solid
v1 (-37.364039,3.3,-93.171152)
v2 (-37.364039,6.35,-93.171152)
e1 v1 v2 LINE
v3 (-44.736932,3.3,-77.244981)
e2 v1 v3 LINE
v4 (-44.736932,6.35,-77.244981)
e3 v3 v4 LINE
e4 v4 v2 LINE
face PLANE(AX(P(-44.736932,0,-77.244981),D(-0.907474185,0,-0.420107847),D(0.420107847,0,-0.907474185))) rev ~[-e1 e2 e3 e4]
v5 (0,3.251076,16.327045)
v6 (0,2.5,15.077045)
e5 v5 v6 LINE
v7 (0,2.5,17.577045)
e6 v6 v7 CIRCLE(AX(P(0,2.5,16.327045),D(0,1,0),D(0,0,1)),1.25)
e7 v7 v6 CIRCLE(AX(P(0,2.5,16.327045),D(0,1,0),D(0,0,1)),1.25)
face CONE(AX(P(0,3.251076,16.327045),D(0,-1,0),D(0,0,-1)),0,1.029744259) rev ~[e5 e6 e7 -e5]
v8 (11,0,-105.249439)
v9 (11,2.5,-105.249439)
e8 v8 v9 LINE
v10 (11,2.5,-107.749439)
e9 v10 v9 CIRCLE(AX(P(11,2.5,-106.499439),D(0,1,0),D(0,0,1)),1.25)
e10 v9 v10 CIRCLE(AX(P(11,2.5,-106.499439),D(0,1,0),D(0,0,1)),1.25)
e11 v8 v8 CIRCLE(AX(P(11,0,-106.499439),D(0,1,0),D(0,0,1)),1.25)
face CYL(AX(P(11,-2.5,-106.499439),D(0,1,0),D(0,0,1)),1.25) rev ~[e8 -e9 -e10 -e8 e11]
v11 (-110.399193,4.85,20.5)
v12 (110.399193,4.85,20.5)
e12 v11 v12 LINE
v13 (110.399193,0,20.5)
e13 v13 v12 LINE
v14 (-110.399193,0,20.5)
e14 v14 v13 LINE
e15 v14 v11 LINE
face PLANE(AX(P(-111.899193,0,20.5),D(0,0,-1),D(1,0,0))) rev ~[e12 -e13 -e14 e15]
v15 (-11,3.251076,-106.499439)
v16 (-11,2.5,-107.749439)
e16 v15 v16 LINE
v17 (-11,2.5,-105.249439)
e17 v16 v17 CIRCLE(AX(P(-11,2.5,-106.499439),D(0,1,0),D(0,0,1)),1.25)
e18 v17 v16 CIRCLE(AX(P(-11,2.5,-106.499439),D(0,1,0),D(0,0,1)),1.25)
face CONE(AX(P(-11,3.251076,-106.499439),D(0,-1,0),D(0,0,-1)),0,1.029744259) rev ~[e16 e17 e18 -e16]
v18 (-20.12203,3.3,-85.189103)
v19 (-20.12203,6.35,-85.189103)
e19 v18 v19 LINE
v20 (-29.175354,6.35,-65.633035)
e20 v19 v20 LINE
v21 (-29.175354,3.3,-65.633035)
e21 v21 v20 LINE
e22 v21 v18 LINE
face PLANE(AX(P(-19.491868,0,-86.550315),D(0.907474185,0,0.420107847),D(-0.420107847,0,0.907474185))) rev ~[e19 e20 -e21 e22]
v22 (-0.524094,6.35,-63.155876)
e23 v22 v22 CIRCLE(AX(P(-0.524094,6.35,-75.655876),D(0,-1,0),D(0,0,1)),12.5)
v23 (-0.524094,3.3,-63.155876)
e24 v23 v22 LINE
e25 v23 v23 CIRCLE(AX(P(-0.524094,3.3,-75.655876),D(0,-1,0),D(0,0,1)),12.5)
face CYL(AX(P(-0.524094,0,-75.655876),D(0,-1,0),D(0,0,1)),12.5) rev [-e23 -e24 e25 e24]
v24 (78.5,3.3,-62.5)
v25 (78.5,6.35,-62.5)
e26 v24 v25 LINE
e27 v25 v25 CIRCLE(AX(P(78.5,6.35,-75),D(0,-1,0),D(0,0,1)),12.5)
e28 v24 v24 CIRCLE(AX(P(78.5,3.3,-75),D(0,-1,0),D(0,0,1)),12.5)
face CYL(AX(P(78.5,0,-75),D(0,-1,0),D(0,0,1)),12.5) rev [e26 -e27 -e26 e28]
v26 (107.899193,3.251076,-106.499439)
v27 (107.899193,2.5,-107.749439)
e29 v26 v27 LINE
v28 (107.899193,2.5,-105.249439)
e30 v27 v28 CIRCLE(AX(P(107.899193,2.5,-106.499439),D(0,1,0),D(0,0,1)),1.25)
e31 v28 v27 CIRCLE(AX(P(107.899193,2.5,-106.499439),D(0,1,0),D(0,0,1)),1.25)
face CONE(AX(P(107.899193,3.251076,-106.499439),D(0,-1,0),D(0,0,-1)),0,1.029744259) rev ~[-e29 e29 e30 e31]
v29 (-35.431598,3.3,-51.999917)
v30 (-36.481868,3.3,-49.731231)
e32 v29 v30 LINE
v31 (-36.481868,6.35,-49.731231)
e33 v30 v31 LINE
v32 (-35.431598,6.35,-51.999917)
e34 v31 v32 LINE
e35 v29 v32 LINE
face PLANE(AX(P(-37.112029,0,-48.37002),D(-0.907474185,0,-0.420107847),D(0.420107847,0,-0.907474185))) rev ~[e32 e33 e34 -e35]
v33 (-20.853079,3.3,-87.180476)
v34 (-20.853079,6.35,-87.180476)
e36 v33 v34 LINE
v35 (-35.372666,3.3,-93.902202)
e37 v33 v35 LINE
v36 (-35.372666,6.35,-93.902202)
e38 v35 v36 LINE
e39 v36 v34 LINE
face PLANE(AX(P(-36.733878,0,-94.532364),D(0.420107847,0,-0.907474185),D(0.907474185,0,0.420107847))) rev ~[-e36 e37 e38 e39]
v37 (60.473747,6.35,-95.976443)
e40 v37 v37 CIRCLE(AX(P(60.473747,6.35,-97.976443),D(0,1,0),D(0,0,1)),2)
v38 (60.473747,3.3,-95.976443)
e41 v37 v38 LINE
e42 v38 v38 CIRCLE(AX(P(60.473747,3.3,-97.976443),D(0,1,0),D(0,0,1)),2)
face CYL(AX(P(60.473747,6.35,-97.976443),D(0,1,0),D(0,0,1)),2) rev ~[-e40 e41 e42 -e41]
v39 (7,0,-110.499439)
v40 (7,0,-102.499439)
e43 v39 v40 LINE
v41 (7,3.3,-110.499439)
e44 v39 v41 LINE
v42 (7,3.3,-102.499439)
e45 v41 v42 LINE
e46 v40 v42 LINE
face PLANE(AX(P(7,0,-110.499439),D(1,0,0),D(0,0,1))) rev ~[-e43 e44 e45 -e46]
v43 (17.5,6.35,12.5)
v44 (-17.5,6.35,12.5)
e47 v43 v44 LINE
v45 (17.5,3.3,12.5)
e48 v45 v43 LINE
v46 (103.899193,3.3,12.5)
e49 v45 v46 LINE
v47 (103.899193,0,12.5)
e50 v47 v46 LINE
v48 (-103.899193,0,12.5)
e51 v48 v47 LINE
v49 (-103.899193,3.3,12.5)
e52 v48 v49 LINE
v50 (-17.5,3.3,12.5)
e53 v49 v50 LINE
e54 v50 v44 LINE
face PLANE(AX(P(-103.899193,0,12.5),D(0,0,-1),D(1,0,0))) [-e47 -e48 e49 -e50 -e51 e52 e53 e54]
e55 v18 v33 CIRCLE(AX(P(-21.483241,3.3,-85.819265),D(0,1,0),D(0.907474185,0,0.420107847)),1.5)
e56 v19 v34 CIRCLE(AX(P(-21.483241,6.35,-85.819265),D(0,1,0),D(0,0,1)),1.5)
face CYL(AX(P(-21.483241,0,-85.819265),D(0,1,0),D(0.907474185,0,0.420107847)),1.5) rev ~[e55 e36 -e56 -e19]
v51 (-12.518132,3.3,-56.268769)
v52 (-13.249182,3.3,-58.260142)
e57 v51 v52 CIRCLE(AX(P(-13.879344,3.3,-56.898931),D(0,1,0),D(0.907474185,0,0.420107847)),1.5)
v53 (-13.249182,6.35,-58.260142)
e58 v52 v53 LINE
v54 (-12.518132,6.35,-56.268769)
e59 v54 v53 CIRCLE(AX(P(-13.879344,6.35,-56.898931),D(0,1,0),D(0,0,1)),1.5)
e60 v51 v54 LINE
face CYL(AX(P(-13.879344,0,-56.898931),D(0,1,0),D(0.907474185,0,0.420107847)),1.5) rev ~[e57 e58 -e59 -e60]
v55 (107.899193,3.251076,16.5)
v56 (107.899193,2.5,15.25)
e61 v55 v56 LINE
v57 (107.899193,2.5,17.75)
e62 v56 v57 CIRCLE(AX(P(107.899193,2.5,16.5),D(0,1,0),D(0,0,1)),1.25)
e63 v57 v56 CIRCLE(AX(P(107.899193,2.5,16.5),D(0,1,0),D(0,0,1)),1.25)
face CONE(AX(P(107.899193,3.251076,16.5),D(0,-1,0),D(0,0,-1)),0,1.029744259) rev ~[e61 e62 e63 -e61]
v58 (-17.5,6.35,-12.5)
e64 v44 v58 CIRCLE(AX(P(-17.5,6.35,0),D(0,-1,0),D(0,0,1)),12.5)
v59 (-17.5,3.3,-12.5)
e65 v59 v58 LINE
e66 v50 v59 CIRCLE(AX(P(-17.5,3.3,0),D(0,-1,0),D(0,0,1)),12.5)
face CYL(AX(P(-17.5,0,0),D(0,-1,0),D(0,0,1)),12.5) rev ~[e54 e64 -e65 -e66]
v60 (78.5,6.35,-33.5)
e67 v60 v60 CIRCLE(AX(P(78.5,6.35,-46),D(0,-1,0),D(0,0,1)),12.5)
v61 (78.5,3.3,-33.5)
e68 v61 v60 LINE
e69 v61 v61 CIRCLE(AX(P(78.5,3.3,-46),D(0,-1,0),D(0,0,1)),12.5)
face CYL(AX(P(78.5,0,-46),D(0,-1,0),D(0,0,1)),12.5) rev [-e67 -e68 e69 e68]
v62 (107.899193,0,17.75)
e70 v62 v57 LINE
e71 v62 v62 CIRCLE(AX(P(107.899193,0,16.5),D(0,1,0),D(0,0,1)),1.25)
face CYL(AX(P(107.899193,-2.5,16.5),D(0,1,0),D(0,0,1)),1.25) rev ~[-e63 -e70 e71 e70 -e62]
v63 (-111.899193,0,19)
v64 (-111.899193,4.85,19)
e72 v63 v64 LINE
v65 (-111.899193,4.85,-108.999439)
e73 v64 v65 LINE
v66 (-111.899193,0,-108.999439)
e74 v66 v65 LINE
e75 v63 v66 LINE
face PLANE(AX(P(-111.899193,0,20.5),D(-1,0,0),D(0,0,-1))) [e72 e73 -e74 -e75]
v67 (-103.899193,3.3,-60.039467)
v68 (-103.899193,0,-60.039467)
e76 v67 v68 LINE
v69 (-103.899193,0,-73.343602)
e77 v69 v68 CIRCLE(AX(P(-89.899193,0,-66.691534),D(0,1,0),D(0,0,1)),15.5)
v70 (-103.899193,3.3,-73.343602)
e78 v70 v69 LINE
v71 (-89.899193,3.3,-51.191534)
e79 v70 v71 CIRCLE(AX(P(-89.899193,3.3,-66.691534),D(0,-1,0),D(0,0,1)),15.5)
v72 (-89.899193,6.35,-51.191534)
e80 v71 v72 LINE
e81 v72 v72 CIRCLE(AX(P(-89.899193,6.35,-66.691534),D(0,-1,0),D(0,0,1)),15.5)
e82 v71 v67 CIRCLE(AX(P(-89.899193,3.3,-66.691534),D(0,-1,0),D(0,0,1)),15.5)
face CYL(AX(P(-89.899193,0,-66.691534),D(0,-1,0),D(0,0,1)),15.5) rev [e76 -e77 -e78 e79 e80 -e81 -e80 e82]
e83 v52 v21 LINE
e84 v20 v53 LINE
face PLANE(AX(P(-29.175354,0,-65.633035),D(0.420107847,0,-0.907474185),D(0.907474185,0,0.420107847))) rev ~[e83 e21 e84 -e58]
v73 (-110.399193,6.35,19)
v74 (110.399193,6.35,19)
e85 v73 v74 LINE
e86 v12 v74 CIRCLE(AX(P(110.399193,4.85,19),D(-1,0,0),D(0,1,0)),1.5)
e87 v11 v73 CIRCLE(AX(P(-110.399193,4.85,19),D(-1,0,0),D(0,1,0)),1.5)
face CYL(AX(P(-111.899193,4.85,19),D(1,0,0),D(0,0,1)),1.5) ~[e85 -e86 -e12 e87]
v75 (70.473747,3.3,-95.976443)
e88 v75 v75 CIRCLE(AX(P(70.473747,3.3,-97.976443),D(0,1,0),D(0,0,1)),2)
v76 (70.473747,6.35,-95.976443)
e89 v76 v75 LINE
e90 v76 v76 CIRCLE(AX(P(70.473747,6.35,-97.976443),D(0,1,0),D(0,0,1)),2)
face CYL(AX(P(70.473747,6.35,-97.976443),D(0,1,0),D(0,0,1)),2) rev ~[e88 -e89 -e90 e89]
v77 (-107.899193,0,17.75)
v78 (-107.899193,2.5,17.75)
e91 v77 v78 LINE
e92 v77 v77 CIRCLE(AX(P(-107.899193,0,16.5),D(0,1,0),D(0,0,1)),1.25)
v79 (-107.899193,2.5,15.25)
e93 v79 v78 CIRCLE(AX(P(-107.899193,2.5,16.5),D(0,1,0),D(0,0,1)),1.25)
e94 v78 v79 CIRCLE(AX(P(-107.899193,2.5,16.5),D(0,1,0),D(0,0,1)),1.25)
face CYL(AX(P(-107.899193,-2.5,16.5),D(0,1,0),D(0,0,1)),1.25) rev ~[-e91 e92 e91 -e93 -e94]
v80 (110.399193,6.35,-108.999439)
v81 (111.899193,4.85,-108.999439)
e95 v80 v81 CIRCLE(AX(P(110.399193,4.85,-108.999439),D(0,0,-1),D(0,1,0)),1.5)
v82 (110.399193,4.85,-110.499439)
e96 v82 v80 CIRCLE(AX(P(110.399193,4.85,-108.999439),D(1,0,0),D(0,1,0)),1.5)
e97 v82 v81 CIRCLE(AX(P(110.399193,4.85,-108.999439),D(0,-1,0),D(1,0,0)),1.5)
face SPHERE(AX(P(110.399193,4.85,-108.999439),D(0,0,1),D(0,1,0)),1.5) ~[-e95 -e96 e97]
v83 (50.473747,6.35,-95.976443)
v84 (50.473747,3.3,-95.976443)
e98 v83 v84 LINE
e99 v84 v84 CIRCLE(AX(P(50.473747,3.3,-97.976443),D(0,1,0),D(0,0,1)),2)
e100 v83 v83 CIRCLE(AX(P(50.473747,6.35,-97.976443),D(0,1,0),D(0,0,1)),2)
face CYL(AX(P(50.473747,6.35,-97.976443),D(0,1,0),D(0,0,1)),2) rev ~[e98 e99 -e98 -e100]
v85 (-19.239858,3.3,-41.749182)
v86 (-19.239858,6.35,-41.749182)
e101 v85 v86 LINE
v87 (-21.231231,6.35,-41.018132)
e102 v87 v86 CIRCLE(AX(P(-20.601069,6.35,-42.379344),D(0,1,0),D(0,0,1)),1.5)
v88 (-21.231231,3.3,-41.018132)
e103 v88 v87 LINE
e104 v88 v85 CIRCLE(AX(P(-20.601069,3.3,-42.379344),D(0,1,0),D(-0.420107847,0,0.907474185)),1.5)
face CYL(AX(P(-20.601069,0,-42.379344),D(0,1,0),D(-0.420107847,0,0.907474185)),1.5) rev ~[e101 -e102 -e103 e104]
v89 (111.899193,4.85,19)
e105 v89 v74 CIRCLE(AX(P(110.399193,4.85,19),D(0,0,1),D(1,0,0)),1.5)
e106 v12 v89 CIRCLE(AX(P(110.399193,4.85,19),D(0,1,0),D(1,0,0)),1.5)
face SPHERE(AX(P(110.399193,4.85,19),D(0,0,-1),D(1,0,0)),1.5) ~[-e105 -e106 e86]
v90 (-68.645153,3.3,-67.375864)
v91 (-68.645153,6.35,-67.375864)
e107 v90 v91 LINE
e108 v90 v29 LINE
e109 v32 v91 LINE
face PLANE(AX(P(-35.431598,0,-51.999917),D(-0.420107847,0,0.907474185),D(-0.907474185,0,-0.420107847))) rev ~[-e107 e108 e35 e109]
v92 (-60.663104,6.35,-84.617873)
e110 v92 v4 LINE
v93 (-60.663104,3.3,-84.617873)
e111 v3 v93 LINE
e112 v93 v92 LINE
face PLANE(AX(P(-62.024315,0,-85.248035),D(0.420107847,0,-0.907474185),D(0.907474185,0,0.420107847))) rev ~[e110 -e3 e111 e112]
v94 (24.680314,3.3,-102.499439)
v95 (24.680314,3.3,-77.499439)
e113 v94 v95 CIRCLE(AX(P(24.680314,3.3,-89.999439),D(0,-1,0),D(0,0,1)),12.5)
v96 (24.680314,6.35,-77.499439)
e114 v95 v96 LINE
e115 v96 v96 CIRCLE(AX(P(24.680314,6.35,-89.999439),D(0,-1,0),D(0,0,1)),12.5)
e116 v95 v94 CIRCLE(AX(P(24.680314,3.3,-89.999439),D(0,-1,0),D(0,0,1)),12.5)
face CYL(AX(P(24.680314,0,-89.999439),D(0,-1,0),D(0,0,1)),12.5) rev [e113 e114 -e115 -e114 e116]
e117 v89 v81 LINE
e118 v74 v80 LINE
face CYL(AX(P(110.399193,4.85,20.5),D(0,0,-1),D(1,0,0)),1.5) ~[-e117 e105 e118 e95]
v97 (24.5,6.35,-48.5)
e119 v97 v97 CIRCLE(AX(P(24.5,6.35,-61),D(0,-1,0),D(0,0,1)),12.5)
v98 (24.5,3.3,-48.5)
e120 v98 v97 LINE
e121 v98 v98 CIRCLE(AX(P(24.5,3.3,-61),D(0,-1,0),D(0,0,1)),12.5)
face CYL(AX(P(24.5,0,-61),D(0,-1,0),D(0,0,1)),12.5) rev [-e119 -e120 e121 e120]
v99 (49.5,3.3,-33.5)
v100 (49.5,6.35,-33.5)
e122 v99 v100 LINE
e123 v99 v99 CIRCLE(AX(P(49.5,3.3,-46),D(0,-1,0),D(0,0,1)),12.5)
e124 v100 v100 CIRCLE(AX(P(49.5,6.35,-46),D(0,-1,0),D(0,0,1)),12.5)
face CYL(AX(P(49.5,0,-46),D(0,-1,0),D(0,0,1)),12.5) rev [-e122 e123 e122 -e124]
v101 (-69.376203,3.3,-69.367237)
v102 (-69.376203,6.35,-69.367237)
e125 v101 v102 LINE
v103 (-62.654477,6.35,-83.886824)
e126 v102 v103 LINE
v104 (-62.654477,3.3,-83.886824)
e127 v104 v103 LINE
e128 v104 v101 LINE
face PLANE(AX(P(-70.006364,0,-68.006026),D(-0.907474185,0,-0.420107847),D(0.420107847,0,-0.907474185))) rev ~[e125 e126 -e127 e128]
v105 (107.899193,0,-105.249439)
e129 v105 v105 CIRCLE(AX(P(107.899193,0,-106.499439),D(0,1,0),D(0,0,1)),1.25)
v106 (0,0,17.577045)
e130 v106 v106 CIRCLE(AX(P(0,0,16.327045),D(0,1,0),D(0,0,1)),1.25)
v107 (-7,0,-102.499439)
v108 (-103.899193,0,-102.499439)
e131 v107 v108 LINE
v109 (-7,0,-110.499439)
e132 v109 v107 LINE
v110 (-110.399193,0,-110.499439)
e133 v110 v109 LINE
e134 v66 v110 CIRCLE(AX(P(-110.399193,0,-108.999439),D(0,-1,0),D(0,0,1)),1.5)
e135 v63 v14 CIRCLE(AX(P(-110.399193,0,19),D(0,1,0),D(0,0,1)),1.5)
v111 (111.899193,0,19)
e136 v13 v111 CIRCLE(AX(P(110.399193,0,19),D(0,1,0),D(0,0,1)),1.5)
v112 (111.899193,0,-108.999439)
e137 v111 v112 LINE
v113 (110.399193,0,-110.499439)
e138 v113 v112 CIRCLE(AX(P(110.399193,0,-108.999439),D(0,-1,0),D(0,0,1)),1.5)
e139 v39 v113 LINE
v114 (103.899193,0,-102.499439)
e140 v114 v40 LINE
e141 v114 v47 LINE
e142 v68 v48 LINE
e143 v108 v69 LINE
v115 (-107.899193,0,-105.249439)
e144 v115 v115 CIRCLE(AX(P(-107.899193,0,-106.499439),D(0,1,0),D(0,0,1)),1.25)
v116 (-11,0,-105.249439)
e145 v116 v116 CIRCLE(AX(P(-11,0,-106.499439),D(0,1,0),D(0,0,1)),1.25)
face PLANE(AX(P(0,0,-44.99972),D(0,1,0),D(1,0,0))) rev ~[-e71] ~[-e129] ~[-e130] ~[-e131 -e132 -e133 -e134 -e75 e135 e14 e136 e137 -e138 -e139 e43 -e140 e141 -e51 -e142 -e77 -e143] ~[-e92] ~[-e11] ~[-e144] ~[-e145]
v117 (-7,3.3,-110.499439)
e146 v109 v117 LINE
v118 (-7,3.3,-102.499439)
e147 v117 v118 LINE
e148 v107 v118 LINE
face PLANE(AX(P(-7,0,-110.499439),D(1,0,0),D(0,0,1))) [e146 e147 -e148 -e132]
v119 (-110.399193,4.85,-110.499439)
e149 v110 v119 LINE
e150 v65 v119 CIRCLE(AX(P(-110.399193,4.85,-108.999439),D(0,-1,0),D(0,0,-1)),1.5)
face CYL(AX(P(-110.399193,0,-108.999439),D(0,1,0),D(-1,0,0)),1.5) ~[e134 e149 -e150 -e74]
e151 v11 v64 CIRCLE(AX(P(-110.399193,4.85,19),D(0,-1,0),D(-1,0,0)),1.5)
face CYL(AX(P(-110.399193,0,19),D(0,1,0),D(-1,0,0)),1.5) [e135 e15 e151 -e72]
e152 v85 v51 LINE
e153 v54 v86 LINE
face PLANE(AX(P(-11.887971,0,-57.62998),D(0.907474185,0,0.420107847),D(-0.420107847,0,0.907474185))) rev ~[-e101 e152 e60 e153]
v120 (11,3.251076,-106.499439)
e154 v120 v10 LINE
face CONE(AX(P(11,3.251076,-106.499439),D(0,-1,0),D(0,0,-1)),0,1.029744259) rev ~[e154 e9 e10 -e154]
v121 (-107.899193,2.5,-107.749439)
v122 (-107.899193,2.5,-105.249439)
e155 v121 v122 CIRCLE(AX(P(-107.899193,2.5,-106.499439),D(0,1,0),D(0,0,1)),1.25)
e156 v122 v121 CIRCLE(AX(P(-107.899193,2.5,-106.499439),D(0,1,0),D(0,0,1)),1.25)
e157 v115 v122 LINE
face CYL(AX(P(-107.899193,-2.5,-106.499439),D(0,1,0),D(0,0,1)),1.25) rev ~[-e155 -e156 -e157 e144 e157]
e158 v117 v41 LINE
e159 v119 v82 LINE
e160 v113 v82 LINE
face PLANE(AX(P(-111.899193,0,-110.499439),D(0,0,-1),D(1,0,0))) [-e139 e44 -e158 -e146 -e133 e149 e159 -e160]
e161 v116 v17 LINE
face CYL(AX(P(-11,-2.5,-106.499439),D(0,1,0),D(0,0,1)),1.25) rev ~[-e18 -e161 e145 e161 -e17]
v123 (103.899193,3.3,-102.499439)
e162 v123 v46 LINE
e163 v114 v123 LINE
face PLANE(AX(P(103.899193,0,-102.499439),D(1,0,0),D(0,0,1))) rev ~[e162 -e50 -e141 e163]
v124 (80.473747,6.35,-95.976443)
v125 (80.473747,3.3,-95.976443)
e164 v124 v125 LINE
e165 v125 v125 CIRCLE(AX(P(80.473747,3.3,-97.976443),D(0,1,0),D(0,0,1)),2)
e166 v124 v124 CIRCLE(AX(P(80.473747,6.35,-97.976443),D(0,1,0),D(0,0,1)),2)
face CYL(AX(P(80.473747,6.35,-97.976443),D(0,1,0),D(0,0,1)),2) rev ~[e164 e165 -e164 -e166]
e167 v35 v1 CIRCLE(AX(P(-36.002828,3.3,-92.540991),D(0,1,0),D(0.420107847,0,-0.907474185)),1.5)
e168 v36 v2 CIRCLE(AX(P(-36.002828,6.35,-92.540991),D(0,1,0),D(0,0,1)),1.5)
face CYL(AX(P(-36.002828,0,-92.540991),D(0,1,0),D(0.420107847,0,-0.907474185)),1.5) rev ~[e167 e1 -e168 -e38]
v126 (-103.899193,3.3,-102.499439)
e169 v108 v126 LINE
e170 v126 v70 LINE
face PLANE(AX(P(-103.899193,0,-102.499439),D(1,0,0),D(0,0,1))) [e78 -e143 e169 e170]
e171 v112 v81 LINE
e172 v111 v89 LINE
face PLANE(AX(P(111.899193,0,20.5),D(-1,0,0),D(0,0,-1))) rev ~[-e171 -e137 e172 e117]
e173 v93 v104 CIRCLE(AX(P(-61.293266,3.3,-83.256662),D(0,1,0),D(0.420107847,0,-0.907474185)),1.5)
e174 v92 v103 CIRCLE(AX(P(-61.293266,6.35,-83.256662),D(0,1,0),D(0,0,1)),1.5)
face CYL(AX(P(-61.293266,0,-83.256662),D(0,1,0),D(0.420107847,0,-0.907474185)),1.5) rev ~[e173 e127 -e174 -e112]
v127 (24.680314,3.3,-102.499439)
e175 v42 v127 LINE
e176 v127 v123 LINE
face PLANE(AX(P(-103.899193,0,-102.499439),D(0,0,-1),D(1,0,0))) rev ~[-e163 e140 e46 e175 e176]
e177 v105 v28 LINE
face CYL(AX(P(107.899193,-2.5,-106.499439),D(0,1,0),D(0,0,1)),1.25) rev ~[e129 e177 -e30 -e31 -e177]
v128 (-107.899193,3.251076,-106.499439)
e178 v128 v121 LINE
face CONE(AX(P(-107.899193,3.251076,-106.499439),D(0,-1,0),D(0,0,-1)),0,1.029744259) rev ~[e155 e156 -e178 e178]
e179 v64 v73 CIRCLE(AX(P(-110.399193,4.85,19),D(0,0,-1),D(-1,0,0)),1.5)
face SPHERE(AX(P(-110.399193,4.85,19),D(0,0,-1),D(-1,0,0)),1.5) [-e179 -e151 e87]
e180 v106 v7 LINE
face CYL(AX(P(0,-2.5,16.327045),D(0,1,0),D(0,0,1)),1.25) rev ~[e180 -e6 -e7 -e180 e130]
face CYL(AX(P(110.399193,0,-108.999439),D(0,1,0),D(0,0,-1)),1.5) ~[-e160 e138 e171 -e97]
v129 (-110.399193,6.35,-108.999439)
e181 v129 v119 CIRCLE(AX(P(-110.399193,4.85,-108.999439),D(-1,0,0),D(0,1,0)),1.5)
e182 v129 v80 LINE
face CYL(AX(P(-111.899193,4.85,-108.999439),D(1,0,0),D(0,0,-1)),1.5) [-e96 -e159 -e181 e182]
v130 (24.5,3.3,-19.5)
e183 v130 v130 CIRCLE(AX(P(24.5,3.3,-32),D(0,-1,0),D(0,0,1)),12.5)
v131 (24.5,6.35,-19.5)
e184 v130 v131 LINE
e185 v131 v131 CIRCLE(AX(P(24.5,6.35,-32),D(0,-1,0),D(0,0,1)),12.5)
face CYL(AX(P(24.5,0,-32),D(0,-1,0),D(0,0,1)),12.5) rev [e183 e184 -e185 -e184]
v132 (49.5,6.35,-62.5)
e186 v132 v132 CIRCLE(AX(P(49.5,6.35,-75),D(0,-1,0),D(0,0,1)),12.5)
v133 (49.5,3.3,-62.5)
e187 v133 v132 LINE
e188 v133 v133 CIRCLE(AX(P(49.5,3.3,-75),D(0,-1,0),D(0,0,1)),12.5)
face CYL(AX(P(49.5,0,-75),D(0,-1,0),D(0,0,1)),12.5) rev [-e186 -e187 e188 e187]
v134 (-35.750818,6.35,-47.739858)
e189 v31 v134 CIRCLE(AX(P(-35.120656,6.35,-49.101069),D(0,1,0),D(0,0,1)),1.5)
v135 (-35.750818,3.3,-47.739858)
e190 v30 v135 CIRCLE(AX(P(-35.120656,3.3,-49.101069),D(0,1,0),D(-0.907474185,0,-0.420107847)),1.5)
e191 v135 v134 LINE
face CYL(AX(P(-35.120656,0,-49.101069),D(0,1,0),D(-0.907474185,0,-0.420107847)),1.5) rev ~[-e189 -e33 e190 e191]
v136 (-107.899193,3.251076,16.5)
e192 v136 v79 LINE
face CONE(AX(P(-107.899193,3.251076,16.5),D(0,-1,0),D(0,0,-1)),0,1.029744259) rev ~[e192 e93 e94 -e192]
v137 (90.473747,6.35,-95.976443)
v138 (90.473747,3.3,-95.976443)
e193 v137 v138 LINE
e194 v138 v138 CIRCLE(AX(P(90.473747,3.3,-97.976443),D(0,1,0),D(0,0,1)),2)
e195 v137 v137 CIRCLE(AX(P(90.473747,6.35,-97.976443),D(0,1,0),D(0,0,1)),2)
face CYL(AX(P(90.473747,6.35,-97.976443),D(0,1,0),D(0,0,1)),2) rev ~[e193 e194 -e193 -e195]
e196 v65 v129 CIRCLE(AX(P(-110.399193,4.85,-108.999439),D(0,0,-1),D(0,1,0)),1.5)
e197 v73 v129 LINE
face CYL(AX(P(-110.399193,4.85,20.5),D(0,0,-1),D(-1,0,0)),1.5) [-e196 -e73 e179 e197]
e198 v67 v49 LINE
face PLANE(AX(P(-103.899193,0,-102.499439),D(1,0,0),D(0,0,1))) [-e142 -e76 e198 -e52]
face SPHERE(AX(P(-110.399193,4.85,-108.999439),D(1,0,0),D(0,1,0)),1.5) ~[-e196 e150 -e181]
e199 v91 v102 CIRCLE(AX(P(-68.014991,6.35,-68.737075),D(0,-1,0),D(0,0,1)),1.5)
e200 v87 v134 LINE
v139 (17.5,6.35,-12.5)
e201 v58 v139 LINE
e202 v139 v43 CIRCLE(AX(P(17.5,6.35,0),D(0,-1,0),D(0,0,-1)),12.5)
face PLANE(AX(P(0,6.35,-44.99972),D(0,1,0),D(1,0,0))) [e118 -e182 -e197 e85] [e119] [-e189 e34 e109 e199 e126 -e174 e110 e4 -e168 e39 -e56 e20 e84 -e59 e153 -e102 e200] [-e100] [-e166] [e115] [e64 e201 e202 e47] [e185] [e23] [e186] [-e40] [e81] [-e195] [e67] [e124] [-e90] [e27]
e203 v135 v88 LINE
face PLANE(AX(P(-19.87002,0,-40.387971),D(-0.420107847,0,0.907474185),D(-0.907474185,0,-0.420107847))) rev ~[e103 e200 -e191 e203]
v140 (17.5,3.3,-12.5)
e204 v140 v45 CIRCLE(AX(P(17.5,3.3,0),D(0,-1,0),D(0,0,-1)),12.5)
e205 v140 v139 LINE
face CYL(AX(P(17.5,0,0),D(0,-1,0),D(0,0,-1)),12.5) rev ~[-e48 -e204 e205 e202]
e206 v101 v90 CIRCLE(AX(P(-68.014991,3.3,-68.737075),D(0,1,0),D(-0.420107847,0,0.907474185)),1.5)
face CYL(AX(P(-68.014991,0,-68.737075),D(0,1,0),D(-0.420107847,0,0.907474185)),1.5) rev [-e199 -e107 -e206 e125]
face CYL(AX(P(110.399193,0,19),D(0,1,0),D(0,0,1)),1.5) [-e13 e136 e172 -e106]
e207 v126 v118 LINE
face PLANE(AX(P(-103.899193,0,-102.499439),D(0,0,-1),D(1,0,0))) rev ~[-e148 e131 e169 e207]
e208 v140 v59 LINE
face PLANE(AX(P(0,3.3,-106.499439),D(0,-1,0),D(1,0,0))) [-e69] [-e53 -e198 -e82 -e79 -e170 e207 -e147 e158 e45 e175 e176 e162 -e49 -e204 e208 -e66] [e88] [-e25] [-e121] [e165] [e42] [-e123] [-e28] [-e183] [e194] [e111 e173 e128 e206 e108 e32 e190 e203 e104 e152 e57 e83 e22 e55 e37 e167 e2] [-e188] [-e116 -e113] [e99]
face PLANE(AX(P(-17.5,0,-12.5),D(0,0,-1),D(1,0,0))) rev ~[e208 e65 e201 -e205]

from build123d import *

# Parameters (mm, degrees)
SKETCH2_W                    = 223.798385104
SKETCH2_H                    = 130.999439424
TOP_PLATE_DEPTH              = 6.35
PRIMARY_BUTTON_CUTOUTS_REACH = 159.391
BUTTON_CUTOUTS_R             = 12.5
BUTTON_CUTOUTS_R_2           = 15.5
FILLET1_R                    = 1.5
EXTRA_BUTTONS_REACH          = 159.391
SKETCH3_R                    = 2
SKETCH4_W                    = 207.798385104
SKETCH4_H                    = 114.999439424
CUT_EXTRUDE2_DEPTH           = 3.3
SKETCH5_W                    = 14
SKETCH5_H                    = 8
CUT_EXTRUDE3_DEPTH           = 3.3
M3X0_5_TAPPED_HOLE1_D        = 2.5
M3X0_5_TAPPED_HOLE1_DEPTH    = 2.5
M3X0_5_TAPPED_HOLE1_TIP      = 0.751075774
FILLET2_R                    = 1.5


with BuildPart() as part:
    # Sketch2 → top plate (new body)
    with BuildSketch(Plane(origin=(0, 0, 0), x_dir=(1, 0, 0), z_dir=(0, 1, 0))):
        with Locations((0, 44.999719712)):
            Rectangle(SKETCH2_W, SKETCH2_H)
    extrude(amount=TOP_PLATE_DEPTH)

    # Button Cutouts → primary button cutouts (cut, up to next)
    with BuildSketch(Plane(origin=(0, 0, 0), x_dir=(1, 0, 0), z_dir=(0, 1, 0)), mode=Mode.PRIVATE) as primary_button_cutouts_sk1:
        with Locations(Location((24.5, 32, 0), (0, 0, 270))):
            Circle(BUTTON_CUTOUTS_R)
    primary_button_cutouts_tool1 = extrude(primary_button_cutouts_sk1.sketch, amount=PRIMARY_BUTTON_CUTOUTS_REACH, mode=Mode.PRIVATE) & part.part
    # Button Cutouts → primary button cutouts (cut, up to next)
    with BuildSketch(Plane(origin=(0, 0, 0), x_dir=(1, 0, 0), z_dir=(0, 1, 0)), mode=Mode.PRIVATE) as primary_button_cutouts_sk2:
        with Locations(Location((24.5, 61, 0), (0, 0, 270))):
            Circle(BUTTON_CUTOUTS_R)
    primary_button_cutouts_tool2 = extrude(primary_button_cutouts_sk2.sketch, amount=PRIMARY_BUTTON_CUTOUTS_REACH, mode=Mode.PRIVATE) & part.part
    # Button Cutouts → primary button cutouts (cut, up to next)
    with BuildSketch(Plane(origin=(0, 0, 0), x_dir=(1, 0, 0), z_dir=(0, 1, 0)), mode=Mode.PRIVATE) as primary_button_cutouts_sk3:
        with Locations(Location((49.5, 46, 0), (0, 0, 270))):
            Circle(BUTTON_CUTOUTS_R)
    primary_button_cutouts_tool3 = extrude(primary_button_cutouts_sk3.sketch, amount=PRIMARY_BUTTON_CUTOUTS_REACH, mode=Mode.PRIVATE) & part.part
    # Button Cutouts → primary button cutouts (cut, up to next)
    with BuildSketch(Plane(origin=(0, 0, 0), x_dir=(1, 0, 0), z_dir=(0, 1, 0)), mode=Mode.PRIVATE) as primary_button_cutouts_sk4:
        with Locations(Location((49.5, 75, 0), (0, 0, 270))):
            Circle(BUTTON_CUTOUTS_R)
    primary_button_cutouts_tool4 = extrude(primary_button_cutouts_sk4.sketch, amount=PRIMARY_BUTTON_CUTOUTS_REACH, mode=Mode.PRIVATE) & part.part
    # Button Cutouts → primary button cutouts (cut, up to next)
    with BuildSketch(Plane(origin=(0, 0, 0), x_dir=(1, 0, 0), z_dir=(0, 1, 0)), mode=Mode.PRIVATE) as primary_button_cutouts_sk5:
        with Locations(Location((78.5, 75, 0), (0, 0, 270))):
            Circle(BUTTON_CUTOUTS_R)
    primary_button_cutouts_tool5 = extrude(primary_button_cutouts_sk5.sketch, amount=PRIMARY_BUTTON_CUTOUTS_REACH, mode=Mode.PRIVATE) & part.part
    # Button Cutouts → primary button cutouts (cut, up to next)
    with BuildSketch(Plane(origin=(0, 0, 0), x_dir=(1, 0, 0), z_dir=(0, 1, 0)), mode=Mode.PRIVATE) as primary_button_cutouts_sk6:
        with Locations(Location((78.5, 46, 0), (0, 0, 270))):
            Circle(BUTTON_CUTOUTS_R)
    primary_button_cutouts_tool6 = extrude(primary_button_cutouts_sk6.sketch, amount=PRIMARY_BUTTON_CUTOUTS_REACH, mode=Mode.PRIVATE) & part.part
    # Button Cutouts → primary button cutouts (cut, up to next)
    with BuildSketch(Plane(origin=(0, 0, 0), x_dir=(1, 0, 0), z_dir=(0, 1, 0)), mode=Mode.PRIVATE) as primary_button_cutouts_sk7:
        with Locations(Location((-89.899192552, 66.691534373, 0), (0, 0, 270))):
            Circle(BUTTON_CUTOUTS_R_2)
    primary_button_cutouts_tool7 = extrude(primary_button_cutouts_sk7.sketch, amount=PRIMARY_BUTTON_CUTOUTS_REACH, mode=Mode.PRIVATE) & part.part
    # Button Cutouts → primary button cutouts (cut, up to next)
    with BuildSketch(Plane(origin=(0, 0, 0), x_dir=(1, 0, 0), z_dir=(0, 1, 0)), mode=Mode.PRIVATE) as primary_button_cutouts_sk8:
        with Locations(Location((24.680313923, 89.999439424, 0), (0, 0, 270))):
            Circle(BUTTON_CUTOUTS_R)
    primary_button_cutouts_tool8 = extrude(primary_button_cutouts_sk8.sketch, amount=PRIMARY_BUTTON_CUTOUTS_REACH, mode=Mode.PRIVATE) & part.part
    # Button Cutouts → primary button cutouts (cut, up to next)
    with BuildSketch(Plane(origin=(0, 0, 0), x_dir=(1, 0, 0), z_dir=(0, 1, 0)), mode=Mode.PRIVATE) as primary_button_cutouts_sk9:
        with Locations(Location((-0.524094275, 75.65587615, 0), (0, 0, 270))):
            Circle(BUTTON_CUTOUTS_R)
    primary_button_cutouts_tool9 = extrude(primary_button_cutouts_sk9.sketch, amount=PRIMARY_BUTTON_CUTOUTS_REACH, mode=Mode.PRIVATE) & part.part
    # Button Cutouts → primary button cutouts (cut, up to next)
    with BuildSketch(Plane(origin=(0, 0, 0), x_dir=(1, 0, 0), z_dir=(0, 1, 0)), mode=Mode.PRIVATE) as primary_button_cutouts_sk10:
        with BuildLine():
            Line((17.5, -12.5), (-17.5, -12.5))
            ThreePointArc((-17.5, -12.5), (-30, 0), (-17.5, 12.5))
            Line((-17.5, 12.5), (17.5, 12.5))
            ThreePointArc((17.5, 12.5), (30, 0), (17.5, -12.5))
        make_face()
    primary_button_cutouts_tool10 = extrude(primary_button_cutouts_sk10.sketch, amount=PRIMARY_BUTTON_CUTOUTS_REACH, mode=Mode.PRIVATE) & part.part
    # Button Cutouts → primary button cutouts (cut, up to next)
    with BuildSketch(Plane(origin=(0, 0, 0), x_dir=(1, 0, 0), z_dir=(0, 1, 0)), mode=Mode.PRIVATE) as primary_button_cutouts_sk11:
        Polygon((-70.006364371, 68.006025513), (-62.024315273, 85.24803503), (-44.736932046, 77.244980539), (-36.733877555, 94.532363766), (-19.491868038, 86.550314667), (-29.175353919, 65.6330347), (-11.887970692, 57.629980209), (-19.870019791, 40.387970692), (-37.112029308, 48.370019791), (-35.431597919, 51.999916531), align=None)
    primary_button_cutouts_tool11 = extrude(primary_button_cutouts_sk11.sketch, amount=PRIMARY_BUTTON_CUTOUTS_REACH, mode=Mode.PRIVATE) & part.part
    add(primary_button_cutouts_tool1.solids().sort_by_distance((24.5, 0, -32))[0], mode=Mode.SUBTRACT)
    add(primary_button_cutouts_tool2.solids().sort_by_distance((24.5, 0, -61))[0], mode=Mode.SUBTRACT)
    add(primary_button_cutouts_tool3.solids().sort_by_distance((49.5, 0, -46))[0], mode=Mode.SUBTRACT)
    add(primary_button_cutouts_tool4.solids().sort_by_distance((49.5, 0, -75))[0], mode=Mode.SUBTRACT)
    add(primary_button_cutouts_tool5.solids().sort_by_distance((78.5, 0, -75))[0], mode=Mode.SUBTRACT)
    add(primary_button_cutouts_tool6.solids().sort_by_distance((78.5, 0, -46))[0], mode=Mode.SUBTRACT)
    add(primary_button_cutouts_tool7.solids().sort_by_distance((-89.899193, 0, -66.691534))[0], mode=Mode.SUBTRACT)
    add(primary_button_cutouts_tool8.solids().sort_by_distance((24.680314, 0, -89.999439))[0], mode=Mode.SUBTRACT)
    add(primary_button_cutouts_tool9.solids().sort_by_distance((-0.524094, 0, -75.655876))[0], mode=Mode.SUBTRACT)
    add(primary_button_cutouts_tool10.solids().sort_by_distance((0, 0, 0))[0], mode=Mode.SUBTRACT)
    add(primary_button_cutouts_tool11.solids().sort_by_distance((-38.528194, 0, -68.046357))[0], mode=Mode.SUBTRACT)

    # Fillet1
    fillet1_edges = [part.edges().sort_by_distance(p)[0] for p in [
        (-19.491868038, 3.175, -86.550314667),
        (-36.733877555, 3.175, -94.532363766),
        (-62.024315273, 3.175, -85.24803503),
        (-70.006364371, 3.175, -68.006025513),
        (-37.112029308, 3.175, -48.370019791),
        (-19.870019791, 3.175, -40.387970692),
        (-11.887970692, 3.175, -57.629980209),
    ]]
    fillet(fillet1_edges, radius=FILLET1_R)

    # Sketch3 → extra buttons (cut, up to next)
    with BuildSketch(Plane(origin=(0, 6.35, 0), x_dir=(1, 0, 0), z_dir=(0, 1, 0)), mode=Mode.PRIVATE) as extra_buttons_sk1:
        with Locations(Location((50.473746808, 97.976443239, 0), (0, 0, 270))):
            Circle(SKETCH3_R)
    extra_buttons_tool1 = extrude(extra_buttons_sk1.sketch, amount=-EXTRA_BUTTONS_REACH, mode=Mode.PRIVATE) & part.part
    # Sketch3 → extra buttons (cut, up to next)
    with BuildSketch(Plane(origin=(0, 6.35, 0), x_dir=(1, 0, 0), z_dir=(0, 1, 0)), mode=Mode.PRIVATE) as extra_buttons_sk2:
        with Locations(Location((60.473746808, 97.976443239, 0), (0, 0, 270))):
            Circle(SKETCH3_R)
    extra_buttons_tool2 = extrude(extra_buttons_sk2.sketch, amount=-EXTRA_BUTTONS_REACH, mode=Mode.PRIVATE) & part.part
    # Sketch3 → extra buttons (cut, up to next)
    with BuildSketch(Plane(origin=(0, 6.35, 0), x_dir=(1, 0, 0), z_dir=(0, 1, 0)), mode=Mode.PRIVATE) as extra_buttons_sk3:
        with Locations(Location((70.473746808, 97.976443239, 0), (0, 0, 270))):
            Circle(SKETCH3_R)
    extra_buttons_tool3 = extrude(extra_buttons_sk3.sketch, amount=-EXTRA_BUTTONS_REACH, mode=Mode.PRIVATE) & part.part
    # Sketch3 → extra buttons (cut, up to next)
    with BuildSketch(Plane(origin=(0, 6.35, 0), x_dir=(1, 0, 0), z_dir=(0, 1, 0)), mode=Mode.PRIVATE) as extra_buttons_sk4:
        with Locations(Location((80.473746808, 97.976443239, 0), (0, 0, 270))):
            Circle(SKETCH3_R)
    extra_buttons_tool4 = extrude(extra_buttons_sk4.sketch, amount=-EXTRA_BUTTONS_REACH, mode=Mode.PRIVATE) & part.part
    # Sketch3 → extra buttons (cut, up to next)
    with BuildSketch(Plane(origin=(0, 6.35, 0), x_dir=(1, 0, 0), z_dir=(0, 1, 0)), mode=Mode.PRIVATE) as extra_buttons_sk5:
        with Locations(Location((90.473746808, 97.976443239, 0), (0, 0, 270))):
            Circle(SKETCH3_R)
    extra_buttons_tool5 = extrude(extra_buttons_sk5.sketch, amount=-EXTRA_BUTTONS_REACH, mode=Mode.PRIVATE) & part.part
    add(extra_buttons_tool1.solids().sort_by_distance((50.473747, 6.35, -97.976443))[0], mode=Mode.SUBTRACT)
    add(extra_buttons_tool2.solids().sort_by_distance((60.473747, 6.35, -97.976443))[0], mode=Mode.SUBTRACT)
    add(extra_buttons_tool3.solids().sort_by_distance((70.473747, 6.35, -97.976443))[0], mode=Mode.SUBTRACT)
    add(extra_buttons_tool4.solids().sort_by_distance((80.473747, 6.35, -97.976443))[0], mode=Mode.SUBTRACT)
    add(extra_buttons_tool5.solids().sort_by_distance((90.473747, 6.35, -97.976443))[0], mode=Mode.SUBTRACT)

    # Sketch4 → Cut-Extrude2 (cut)
    with BuildSketch(Plane.XZ):
        with Locations((0, -44.999719712)):
            Rectangle(SKETCH4_W, SKETCH4_H)
    extrude(amount=-CUT_EXTRUDE2_DEPTH, mode=Mode.SUBTRACT)

    # Sketch5 → Cut-Extrude3 (cut)
    with BuildSketch(Plane.XZ):
        with Locations((0, -106.499439424)):
            Rectangle(SKETCH5_W, SKETCH5_H)
    extrude(amount=-CUT_EXTRUDE3_DEPTH, mode=Mode.SUBTRACT)

    # M3x0.5 Tapped Hole1
    with Locations(Plane(origin=(-107.899192552, 0, -106.499439424), x_dir=(0, 0, -1), z_dir=(0, -1, 0))):
        with Locations((0, 0), (0, 96.899192552), (0, 118.899192552), (0, 215.798385104), (-122.999439424, 215.798385104), (-122.826484666, 107.899192552), (-122.999439424, 0)):
            Hole(M3X0_5_TAPPED_HOLE1_D / 2, depth=M3X0_5_TAPPED_HOLE1_DEPTH)
            with Locations((0, 0, -(M3X0_5_TAPPED_HOLE1_DEPTH + M3X0_5_TAPPED_HOLE1_TIP / 2))):  # 118° drill point
                Cone(0, M3X0_5_TAPPED_HOLE1_D / 2, M3X0_5_TAPPED_HOLE1_TIP, mode=Mode.SUBTRACT)

    # Fillet2
    fillet2_edges = [part.edges().sort_by_distance(p)[0] for p in [
        (111.899192552, 6.35, -44.999719712),
        (0, 6.35, -110.499439424),
        (-111.899192552, 6.35, -44.999719712),
        (-111.899192552, 3.175, -110.499439424),
        (111.899192552, 3.175, -110.499439424),
        (111.899192552, 3.175, 20.5),
        (-111.899192552, 3.175, 20.5),
        (0, 6.35, 20.5),
    ]]
    fillet(fillet2_edges, radius=FILLET2_R)


solid = part.part
